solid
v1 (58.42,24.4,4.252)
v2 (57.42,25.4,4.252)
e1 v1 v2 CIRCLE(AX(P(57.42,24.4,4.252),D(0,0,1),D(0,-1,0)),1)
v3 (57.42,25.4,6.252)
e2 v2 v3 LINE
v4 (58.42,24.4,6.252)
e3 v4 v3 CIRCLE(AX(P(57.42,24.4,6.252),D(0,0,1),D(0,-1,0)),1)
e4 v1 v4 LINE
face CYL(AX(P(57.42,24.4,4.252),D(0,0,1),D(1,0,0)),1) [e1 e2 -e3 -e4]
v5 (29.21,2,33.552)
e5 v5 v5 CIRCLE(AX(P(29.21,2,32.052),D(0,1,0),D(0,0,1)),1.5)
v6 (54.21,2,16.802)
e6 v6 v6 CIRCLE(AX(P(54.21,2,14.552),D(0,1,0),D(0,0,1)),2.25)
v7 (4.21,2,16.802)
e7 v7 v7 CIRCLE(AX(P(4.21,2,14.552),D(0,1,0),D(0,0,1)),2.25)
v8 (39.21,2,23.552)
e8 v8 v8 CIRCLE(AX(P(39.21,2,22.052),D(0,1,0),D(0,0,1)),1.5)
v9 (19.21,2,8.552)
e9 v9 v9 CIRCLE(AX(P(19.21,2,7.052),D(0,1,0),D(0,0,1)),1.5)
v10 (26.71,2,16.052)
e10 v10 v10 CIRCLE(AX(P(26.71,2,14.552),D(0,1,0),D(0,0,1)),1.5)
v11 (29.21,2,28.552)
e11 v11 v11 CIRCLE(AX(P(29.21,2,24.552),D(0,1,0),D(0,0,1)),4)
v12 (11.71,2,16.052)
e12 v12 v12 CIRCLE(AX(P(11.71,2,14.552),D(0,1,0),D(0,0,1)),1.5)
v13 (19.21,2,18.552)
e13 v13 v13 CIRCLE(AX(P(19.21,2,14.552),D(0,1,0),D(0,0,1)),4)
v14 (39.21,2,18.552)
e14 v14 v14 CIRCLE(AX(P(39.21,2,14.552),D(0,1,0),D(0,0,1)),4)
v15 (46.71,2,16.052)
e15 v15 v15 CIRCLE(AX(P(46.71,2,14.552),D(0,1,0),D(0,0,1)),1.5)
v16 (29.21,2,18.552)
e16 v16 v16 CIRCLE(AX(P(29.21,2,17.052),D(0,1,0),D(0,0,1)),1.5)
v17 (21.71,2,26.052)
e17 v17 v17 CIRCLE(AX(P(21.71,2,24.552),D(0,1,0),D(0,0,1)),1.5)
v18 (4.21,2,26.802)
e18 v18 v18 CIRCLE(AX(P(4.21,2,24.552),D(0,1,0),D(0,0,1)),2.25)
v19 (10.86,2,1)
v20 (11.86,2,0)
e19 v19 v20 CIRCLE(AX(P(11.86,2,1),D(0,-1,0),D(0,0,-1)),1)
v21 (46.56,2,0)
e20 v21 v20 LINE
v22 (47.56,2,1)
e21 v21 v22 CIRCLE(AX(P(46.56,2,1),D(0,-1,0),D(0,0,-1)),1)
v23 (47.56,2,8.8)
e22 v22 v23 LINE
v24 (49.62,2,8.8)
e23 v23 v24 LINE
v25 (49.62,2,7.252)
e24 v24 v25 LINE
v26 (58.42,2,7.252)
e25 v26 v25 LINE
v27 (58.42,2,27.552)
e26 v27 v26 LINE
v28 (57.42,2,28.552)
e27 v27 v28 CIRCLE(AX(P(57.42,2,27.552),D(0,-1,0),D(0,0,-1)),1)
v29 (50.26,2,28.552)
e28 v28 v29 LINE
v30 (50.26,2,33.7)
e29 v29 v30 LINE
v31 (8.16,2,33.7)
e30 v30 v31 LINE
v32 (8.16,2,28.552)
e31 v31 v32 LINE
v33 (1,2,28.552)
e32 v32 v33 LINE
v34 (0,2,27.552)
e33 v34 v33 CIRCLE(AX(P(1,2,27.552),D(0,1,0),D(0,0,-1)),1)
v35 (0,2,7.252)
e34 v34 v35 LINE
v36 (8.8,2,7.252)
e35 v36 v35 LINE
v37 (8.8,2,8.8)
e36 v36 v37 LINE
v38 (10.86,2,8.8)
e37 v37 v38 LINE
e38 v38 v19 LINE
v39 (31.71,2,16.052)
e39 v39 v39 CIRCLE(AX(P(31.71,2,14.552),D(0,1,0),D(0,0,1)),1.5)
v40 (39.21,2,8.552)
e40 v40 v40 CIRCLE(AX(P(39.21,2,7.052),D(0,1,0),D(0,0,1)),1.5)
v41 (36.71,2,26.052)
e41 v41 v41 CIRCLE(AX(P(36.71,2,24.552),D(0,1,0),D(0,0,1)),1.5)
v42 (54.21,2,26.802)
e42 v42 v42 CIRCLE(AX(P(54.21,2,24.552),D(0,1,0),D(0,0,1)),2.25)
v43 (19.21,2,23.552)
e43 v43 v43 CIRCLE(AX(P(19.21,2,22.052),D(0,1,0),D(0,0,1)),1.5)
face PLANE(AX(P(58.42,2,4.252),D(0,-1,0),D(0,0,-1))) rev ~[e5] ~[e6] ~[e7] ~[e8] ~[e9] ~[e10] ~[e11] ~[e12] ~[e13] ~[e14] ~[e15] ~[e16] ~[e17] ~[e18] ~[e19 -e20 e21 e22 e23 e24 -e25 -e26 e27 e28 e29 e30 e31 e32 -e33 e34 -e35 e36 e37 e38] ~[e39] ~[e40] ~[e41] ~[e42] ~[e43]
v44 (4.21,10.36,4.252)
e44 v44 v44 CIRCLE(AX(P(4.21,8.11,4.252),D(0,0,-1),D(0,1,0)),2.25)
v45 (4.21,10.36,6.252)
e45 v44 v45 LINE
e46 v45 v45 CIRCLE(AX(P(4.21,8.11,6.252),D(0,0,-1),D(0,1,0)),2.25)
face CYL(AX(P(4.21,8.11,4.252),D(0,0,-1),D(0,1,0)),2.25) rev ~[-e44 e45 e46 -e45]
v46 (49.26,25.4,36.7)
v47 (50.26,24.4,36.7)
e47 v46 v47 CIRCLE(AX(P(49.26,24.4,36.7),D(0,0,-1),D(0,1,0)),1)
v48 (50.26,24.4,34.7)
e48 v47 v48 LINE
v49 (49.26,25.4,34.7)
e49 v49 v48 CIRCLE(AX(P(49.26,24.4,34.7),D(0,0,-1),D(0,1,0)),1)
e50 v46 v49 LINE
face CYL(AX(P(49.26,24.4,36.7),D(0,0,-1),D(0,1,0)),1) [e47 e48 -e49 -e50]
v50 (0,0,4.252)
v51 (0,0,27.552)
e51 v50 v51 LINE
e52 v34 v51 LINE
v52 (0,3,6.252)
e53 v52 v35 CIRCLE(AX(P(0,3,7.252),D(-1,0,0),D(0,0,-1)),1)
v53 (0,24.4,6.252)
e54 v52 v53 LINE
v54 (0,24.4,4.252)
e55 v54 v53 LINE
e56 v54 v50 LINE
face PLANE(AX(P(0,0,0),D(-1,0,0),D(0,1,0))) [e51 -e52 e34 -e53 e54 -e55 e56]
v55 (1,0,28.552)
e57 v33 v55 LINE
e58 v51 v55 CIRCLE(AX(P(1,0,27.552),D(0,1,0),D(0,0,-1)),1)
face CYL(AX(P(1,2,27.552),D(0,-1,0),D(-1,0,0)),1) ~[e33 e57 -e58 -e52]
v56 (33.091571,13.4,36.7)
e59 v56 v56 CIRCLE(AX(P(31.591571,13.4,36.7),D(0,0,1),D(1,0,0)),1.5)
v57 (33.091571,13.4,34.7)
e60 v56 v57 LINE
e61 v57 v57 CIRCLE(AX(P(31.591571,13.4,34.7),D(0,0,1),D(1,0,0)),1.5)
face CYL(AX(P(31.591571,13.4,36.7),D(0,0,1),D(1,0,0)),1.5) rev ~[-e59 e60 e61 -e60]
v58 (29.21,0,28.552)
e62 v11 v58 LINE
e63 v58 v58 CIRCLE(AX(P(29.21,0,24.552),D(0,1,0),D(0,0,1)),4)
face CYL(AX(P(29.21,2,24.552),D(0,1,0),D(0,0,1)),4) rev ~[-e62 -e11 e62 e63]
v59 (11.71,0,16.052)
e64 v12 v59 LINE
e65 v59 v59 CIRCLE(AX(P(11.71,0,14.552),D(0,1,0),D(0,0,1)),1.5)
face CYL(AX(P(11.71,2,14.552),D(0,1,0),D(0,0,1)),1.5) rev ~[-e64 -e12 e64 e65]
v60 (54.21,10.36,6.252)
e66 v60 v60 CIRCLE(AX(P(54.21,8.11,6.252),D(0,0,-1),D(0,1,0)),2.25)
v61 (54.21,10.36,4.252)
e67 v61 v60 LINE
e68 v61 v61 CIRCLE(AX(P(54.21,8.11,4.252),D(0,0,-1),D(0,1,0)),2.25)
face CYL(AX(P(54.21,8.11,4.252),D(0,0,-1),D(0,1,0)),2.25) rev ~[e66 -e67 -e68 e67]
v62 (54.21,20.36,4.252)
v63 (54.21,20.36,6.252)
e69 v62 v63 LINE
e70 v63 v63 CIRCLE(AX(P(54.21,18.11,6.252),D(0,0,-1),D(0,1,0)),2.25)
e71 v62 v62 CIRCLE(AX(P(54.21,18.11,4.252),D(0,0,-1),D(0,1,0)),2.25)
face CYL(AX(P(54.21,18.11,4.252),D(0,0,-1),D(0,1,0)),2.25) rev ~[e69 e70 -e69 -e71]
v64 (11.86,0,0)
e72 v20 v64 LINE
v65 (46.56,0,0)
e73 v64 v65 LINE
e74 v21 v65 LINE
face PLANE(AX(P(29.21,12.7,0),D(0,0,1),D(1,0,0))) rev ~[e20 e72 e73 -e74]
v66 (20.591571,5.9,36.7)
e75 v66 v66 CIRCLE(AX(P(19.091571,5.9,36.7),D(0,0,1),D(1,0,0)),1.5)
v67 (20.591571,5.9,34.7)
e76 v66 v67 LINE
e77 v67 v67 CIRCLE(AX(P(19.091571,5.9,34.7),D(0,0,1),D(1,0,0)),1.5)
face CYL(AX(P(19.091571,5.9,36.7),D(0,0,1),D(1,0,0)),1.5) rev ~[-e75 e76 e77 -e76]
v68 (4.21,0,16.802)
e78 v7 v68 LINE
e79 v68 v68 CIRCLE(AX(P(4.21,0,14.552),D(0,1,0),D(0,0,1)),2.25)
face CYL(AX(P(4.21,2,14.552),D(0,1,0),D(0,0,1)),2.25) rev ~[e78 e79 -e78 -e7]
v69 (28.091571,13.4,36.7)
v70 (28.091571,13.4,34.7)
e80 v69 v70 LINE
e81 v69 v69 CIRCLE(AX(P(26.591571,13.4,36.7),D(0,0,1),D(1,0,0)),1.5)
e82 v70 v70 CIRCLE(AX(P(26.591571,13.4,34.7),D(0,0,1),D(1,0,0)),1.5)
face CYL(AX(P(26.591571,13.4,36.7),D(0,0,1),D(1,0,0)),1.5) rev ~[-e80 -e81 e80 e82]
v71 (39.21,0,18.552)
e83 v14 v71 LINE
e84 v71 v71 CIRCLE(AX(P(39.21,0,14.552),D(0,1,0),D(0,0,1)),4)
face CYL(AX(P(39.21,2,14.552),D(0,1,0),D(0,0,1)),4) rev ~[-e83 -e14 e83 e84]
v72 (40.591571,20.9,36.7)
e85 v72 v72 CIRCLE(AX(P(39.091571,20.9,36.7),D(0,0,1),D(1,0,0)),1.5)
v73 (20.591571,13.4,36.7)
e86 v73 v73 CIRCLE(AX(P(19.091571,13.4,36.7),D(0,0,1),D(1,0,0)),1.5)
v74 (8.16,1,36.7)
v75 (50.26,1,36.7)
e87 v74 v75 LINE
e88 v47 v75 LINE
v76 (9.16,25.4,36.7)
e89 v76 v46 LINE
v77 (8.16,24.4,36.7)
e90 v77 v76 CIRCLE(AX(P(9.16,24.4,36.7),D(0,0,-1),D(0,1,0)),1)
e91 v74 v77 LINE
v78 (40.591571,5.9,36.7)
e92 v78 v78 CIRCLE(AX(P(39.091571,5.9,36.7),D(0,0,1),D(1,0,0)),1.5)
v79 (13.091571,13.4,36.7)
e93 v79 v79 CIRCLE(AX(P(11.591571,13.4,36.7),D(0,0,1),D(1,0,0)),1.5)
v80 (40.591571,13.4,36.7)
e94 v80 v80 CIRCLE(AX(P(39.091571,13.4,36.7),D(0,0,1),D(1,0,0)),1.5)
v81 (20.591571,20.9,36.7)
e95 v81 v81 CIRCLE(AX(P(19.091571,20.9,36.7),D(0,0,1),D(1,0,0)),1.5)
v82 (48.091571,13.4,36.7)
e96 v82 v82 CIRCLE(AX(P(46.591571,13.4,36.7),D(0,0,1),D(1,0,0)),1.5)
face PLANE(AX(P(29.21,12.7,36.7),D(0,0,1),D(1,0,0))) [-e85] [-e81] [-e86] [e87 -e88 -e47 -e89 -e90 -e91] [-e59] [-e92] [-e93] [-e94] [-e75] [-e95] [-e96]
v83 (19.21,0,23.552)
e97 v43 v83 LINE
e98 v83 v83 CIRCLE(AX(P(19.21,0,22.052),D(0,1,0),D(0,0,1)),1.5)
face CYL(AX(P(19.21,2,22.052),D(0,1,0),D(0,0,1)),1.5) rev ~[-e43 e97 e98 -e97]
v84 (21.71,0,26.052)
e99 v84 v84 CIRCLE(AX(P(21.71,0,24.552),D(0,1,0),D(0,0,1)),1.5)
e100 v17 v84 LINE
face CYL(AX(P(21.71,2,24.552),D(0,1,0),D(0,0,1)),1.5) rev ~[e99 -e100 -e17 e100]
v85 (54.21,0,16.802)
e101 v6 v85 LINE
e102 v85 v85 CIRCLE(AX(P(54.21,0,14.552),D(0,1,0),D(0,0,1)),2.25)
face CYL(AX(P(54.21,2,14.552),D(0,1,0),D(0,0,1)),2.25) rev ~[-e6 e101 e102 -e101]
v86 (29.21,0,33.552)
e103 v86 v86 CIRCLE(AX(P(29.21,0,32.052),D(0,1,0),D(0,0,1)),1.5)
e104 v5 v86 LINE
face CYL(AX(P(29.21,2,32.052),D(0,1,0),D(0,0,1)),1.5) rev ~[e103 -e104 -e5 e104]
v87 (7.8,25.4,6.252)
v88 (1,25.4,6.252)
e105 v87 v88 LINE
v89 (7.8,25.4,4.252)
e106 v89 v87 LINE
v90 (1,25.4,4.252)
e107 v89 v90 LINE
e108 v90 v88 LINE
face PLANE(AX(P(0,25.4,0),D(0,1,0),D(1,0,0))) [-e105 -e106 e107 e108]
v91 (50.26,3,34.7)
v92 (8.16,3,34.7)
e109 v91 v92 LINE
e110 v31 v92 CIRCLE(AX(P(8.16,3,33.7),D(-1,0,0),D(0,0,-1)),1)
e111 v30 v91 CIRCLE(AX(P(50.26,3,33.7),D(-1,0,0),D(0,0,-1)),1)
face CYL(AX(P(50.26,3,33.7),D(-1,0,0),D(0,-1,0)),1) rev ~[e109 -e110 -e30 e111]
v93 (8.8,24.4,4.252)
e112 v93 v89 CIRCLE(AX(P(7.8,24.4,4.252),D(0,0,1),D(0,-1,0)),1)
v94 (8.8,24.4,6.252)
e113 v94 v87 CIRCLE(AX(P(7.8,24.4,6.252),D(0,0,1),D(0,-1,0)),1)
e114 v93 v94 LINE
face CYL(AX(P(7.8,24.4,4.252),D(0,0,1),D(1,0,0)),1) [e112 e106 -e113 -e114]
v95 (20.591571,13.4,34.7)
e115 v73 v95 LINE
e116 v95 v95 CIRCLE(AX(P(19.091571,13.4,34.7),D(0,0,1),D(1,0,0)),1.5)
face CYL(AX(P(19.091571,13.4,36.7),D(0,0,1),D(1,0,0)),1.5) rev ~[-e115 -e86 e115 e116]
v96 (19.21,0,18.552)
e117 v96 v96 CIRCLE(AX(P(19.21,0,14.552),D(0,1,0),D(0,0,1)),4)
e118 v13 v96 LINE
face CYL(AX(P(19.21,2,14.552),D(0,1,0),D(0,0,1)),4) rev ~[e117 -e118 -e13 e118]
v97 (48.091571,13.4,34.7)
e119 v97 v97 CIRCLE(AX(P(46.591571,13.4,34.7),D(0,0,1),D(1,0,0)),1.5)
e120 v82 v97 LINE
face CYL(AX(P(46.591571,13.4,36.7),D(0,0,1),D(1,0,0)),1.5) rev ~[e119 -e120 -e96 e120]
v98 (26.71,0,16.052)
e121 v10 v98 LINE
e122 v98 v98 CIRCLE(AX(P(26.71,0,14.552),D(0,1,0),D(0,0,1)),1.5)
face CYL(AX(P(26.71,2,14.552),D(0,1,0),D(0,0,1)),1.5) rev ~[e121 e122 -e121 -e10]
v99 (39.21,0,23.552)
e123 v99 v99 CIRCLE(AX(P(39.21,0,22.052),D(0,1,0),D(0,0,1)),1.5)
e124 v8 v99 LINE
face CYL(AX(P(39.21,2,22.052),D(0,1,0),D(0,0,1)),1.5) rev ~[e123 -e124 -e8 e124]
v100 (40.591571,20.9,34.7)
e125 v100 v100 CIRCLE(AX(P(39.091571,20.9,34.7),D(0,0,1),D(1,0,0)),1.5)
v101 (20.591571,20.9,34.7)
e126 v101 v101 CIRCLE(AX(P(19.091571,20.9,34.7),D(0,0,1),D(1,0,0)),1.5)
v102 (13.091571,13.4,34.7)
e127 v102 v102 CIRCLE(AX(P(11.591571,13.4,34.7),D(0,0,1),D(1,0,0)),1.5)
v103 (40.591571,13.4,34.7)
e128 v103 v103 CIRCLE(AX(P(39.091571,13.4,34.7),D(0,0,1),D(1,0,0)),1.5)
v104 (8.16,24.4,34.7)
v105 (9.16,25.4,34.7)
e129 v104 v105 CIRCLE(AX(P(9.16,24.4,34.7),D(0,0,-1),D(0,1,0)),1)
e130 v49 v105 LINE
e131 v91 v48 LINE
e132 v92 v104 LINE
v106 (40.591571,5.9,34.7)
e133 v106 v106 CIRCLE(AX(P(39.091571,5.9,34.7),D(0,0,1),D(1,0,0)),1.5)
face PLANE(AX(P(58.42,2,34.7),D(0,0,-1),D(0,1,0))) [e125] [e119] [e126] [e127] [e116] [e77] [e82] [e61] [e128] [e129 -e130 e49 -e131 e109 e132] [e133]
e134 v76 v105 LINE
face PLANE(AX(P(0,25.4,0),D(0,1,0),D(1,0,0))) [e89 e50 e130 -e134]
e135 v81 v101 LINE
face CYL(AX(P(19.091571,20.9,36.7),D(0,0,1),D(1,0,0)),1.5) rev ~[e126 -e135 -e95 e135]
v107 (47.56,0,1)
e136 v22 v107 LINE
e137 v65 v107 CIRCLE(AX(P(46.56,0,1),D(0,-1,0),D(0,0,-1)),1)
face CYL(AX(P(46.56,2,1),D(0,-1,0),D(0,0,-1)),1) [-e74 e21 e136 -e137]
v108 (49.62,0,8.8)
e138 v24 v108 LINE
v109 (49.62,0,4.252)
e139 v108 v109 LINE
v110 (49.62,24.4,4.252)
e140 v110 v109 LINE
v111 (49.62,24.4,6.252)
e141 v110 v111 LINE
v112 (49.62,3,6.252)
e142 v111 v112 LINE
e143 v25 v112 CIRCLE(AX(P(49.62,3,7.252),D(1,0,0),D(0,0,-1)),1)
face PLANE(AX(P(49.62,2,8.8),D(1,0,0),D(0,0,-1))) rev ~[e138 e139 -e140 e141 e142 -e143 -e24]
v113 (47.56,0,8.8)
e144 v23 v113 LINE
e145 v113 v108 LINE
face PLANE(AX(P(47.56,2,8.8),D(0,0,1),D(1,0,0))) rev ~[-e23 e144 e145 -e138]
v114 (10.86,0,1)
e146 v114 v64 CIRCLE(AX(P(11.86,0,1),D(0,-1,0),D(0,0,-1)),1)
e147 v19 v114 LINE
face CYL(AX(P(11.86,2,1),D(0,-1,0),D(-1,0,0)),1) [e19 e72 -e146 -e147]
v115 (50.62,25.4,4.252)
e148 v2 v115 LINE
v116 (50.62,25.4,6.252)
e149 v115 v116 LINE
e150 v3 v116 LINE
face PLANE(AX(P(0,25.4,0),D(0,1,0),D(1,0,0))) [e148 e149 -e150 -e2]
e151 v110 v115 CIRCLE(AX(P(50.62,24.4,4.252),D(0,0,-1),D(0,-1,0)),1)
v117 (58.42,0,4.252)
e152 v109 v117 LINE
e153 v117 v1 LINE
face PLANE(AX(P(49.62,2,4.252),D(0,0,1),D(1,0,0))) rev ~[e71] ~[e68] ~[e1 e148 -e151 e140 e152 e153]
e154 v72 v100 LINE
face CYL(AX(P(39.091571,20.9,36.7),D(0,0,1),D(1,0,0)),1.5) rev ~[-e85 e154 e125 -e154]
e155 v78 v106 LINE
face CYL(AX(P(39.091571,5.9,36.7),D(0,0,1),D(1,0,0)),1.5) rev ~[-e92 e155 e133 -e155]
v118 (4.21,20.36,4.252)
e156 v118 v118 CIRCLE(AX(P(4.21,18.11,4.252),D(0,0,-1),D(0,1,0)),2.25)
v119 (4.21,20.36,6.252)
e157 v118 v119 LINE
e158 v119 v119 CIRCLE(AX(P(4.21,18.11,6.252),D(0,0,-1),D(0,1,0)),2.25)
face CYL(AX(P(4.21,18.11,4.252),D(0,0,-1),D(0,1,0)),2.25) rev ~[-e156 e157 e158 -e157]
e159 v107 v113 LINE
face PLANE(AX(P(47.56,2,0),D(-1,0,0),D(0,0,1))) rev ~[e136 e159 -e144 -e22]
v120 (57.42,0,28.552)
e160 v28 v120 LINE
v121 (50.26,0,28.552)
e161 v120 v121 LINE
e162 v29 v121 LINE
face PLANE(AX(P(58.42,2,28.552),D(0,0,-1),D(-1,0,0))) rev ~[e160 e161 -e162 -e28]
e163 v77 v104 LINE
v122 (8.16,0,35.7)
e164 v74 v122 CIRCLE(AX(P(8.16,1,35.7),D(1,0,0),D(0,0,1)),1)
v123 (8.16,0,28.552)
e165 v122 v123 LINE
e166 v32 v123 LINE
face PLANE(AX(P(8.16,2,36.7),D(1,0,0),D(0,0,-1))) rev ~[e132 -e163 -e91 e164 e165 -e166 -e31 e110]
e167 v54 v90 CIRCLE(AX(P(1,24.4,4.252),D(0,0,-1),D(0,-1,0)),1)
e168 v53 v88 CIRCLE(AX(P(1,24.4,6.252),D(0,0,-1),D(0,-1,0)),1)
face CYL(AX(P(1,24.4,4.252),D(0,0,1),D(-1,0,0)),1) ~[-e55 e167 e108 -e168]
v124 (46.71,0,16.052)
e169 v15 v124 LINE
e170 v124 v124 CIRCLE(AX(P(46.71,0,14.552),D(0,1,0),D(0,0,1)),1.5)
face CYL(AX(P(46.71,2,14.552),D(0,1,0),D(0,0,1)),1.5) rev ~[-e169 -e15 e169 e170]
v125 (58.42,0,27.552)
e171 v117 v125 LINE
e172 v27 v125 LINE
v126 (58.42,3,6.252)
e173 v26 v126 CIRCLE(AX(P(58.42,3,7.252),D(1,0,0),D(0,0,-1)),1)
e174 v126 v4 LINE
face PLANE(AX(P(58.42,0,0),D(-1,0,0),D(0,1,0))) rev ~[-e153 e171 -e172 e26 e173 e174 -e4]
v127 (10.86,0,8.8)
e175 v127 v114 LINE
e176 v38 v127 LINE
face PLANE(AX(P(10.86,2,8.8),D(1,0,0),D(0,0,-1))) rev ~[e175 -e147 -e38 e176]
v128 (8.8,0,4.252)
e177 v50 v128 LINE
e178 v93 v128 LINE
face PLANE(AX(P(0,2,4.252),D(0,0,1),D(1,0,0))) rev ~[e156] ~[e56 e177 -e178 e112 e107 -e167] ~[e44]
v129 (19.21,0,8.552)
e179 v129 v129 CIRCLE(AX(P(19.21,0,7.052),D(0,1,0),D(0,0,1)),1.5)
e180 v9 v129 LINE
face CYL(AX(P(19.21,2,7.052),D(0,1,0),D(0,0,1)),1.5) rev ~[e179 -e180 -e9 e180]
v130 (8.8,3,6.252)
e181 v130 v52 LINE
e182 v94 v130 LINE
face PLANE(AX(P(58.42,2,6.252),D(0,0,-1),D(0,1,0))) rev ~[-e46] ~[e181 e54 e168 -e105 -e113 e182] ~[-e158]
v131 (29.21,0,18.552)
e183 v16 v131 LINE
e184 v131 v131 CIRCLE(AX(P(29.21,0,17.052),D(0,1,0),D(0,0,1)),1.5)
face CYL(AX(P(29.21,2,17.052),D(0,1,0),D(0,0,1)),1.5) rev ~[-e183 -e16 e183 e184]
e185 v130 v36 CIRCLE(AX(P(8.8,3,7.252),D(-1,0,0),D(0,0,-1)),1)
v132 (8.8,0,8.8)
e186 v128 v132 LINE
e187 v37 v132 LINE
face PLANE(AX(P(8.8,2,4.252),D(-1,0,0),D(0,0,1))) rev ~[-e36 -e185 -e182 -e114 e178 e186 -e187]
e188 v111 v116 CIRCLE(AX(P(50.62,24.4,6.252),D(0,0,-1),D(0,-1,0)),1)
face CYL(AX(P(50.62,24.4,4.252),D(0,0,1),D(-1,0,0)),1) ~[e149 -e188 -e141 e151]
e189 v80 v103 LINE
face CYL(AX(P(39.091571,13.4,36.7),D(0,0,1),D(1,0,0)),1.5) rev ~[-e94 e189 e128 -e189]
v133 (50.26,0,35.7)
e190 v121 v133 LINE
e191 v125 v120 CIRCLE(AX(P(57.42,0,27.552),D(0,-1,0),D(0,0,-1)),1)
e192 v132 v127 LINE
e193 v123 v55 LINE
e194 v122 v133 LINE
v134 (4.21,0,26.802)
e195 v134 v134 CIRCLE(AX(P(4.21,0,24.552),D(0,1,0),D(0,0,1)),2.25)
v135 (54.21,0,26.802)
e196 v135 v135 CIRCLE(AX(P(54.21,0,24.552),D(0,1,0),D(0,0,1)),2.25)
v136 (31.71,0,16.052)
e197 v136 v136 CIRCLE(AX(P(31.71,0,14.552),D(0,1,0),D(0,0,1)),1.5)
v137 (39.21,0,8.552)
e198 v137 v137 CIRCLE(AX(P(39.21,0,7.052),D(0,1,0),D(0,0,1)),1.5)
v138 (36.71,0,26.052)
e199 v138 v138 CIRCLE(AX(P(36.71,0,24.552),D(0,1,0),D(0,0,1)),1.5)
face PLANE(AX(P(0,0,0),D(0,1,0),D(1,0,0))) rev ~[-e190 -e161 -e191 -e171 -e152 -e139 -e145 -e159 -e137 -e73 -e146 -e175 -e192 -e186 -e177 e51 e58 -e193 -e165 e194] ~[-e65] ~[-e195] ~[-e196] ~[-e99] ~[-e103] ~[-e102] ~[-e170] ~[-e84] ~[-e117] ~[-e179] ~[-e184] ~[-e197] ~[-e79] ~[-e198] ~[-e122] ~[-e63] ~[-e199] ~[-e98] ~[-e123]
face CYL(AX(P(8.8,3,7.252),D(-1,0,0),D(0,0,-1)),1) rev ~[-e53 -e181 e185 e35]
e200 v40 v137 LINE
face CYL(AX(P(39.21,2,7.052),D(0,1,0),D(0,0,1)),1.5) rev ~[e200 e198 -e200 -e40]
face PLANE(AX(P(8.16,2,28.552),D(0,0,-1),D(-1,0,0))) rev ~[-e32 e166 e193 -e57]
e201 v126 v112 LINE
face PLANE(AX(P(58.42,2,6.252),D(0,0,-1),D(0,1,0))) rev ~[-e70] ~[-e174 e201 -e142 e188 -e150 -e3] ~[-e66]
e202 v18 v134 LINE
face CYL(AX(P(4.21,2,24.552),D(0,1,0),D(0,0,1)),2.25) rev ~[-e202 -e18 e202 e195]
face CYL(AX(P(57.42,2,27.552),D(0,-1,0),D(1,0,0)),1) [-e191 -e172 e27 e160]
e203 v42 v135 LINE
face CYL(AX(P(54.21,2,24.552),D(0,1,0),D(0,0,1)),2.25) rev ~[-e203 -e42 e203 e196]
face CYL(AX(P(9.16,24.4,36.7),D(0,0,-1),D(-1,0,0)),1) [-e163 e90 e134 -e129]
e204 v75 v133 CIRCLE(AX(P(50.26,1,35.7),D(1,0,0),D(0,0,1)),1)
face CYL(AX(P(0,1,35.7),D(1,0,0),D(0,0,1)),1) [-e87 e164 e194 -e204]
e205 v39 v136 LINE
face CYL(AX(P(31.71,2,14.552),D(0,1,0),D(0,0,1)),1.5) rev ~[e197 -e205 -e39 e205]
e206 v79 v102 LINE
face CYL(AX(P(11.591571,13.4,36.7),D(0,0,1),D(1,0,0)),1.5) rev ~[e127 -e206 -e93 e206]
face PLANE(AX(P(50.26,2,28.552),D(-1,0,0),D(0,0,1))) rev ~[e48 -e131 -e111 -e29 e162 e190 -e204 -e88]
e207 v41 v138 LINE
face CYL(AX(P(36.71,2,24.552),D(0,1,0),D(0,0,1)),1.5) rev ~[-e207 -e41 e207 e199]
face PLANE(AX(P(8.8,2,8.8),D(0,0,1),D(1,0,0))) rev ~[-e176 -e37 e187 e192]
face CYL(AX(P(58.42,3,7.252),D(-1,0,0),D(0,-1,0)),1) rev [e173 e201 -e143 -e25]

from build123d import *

# Parameters (mm, degrees)
SKETCH2_W           = 58.42
SKETCH2_H           = 25.4
BOSS_EXTRUDE1_DEPTH = 36.7
CUT_EXTRUDE1_REACH  = 75.518
SKETCH3_W           = 4.252
SKETCH3_H           = 23.4
SKETCH3_W_2         = 28.448
SKETCH4_W           = 8.16
SKETCH4_H           = 23.4
CUT_EXTRUDE3_DEPTH  = 2
FILLET1_R           = 1
CUT_EXTRUDE5_REACH  = 73.491
SKETCH5_W           = 40.82
SKETCH5_H           = 23.4
SKETCH6_W           = 2.06
SKETCH6_H           = 2.548
CUT_EXTRUDE6_DEPTH  = 2
CUT_EXTRUDE7_DEPTH  = 2
FILLET2_R           = 1
SKETCH8_R           = 1.5
CUT_EXTRUDE8_DEPTH  = 2
SKETCH9_R           = 2.25
SKETCH9_R_2         = 4
SKETCH9_R_3         = 1.5
CUT_EXTRUDE9_DEPTH  = 2
SKETCH10_R          = 2.25
CUT_EXTRUDE10_DEPTH = 2
FILLET3_R           = 1


with BuildPart() as part:
    # Sketch2 → Boss-Extrude1 (new body)
    with BuildSketch(Plane.XY):
        with Locations((29.21, 12.7)):
            Rectangle(SKETCH2_W, SKETCH2_H)
    extrude(amount=BOSS_EXTRUDE1_DEPTH)

    # Sketch3 → Cut-Extrude1 (cut, up to next)
    with BuildSketch(Plane(origin=(58.42, 0, 0), x_dir=(0, 0, -1), z_dir=(1, 0, 0)), mode=Mode.PRIVATE) as cut_extrude1_sk1:
        with Locations((-2.126, 13.7)):
            Rectangle(SKETCH3_W, SKETCH3_H)
    cut_extrude1_tool1 = extrude(cut_extrude1_sk1.sketch, amount=-CUT_EXTRUDE1_REACH, mode=Mode.PRIVATE) & part.part
    # Sketch3 → Cut-Extrude1 (cut, up to next)
    with BuildSketch(Plane(origin=(58.42, 0, 0), x_dir=(0, 0, -1), z_dir=(1, 0, 0)), mode=Mode.PRIVATE) as cut_extrude1_sk2:
        with Locations((-20.476, 13.7)):
            Rectangle(SKETCH3_W_2, SKETCH3_H)
    cut_extrude1_tool2 = extrude(cut_extrude1_sk2.sketch, amount=-CUT_EXTRUDE1_REACH, mode=Mode.PRIVATE) & part.part
    add(cut_extrude1_tool1.solids().sort_by_distance((58.42, 13.7, 2.126))[0], mode=Mode.SUBTRACT)
    add(cut_extrude1_tool2.solids().sort_by_distance((58.42, 13.7, 20.476))[0], mode=Mode.SUBTRACT)

    # Sketch4 → Cut-Extrude3 (cut)
    with BuildSketch(Plane.XY.offset(36.7)):
        with Locations((4.08, 13.7)):
            Rectangle(SKETCH4_W, SKETCH4_H)
        with Locations((54.34, 13.7)):
            Rectangle(SKETCH4_W, SKETCH4_H)
    extrude(amount=-CUT_EXTRUDE3_DEPTH, mode=Mode.SUBTRACT)

    # Fillet1
    fillet1_edges = [part.edges().sort_by_distance(p)[0] for p in [
        (29.21, 2, 34.7),
        (8.16, 25.4, 35.7),
        (50.26, 25.4, 35.7),
        (29.21, 0, 36.7),
    ]]
    fillet(fillet1_edges, radius=FILLET1_R)

    # Sketch5 → Cut-Extrude5 (cut, up to next)
    with BuildSketch(Plane(origin=(0, 0, 4.252), x_dir=(-1, 0, 0), z_dir=(0, 0, -1)), mode=Mode.PRIVATE) as cut_extrude5_sk1:
        with Locations((-29.21, 13.7)):
            Rectangle(SKETCH5_W, SKETCH5_H)
    cut_extrude5_tool1 = extrude(cut_extrude5_sk1.sketch, amount=-CUT_EXTRUDE5_REACH, mode=Mode.PRIVATE) & part.part
    add(cut_extrude5_tool1.solids().sort_by_distance((29.21, 13.7, 4.252))[0], mode=Mode.SUBTRACT)

    # Sketch6 → Cut-Extrude6 (cut)
    with BuildSketch(Plane(origin=(0, 2, 0), x_dir=(1, 0, 0), z_dir=(0, 1, 0))):
        Polygon((10.86, -6.252), (10.86, 0), (0, 0), (0, -4.252), (8.8, -4.252), (8.8, -6.252), align=None)
        Polygon((58.42, 0), (47.56, 0), (47.56, -6.252), (49.62, -6.252), (49.62, -4.252), (58.42, -4.252), align=None)
        with Locations((48.59, -7.526)):
            Rectangle(SKETCH6_W, SKETCH6_H)
        with Locations((9.83, -7.526)):
            Rectangle(SKETCH6_W, SKETCH6_H)
    extrude(amount=-CUT_EXTRUDE6_DEPTH, mode=Mode.SUBTRACT)

    # Sketch7 → Cut-Extrude7 (cut)
    with BuildSketch(Plane(origin=(0, 2, 0), x_dir=(1, 0, 0), z_dir=(0, 1, 0))):
        Polygon((0, -36.7), (8.16, -36.7), (8.16, -33.7), (8.16, -28.552), (0, -28.552), align=None)
        Polygon((58.42, -36.7), (58.42, -28.552), (50.26, -28.552), (50.26, -33.7), (50.26, -36.7), align=None)
    extrude(amount=-CUT_EXTRUDE7_DEPTH, mode=Mode.SUBTRACT)

    # Fillet2
    fillet2_edges = [part.edges().sort_by_distance(p)[0] for p in [
        (49.62, 25.4, 5.252),
        (8.8, 25.4, 5.252),
        (47.56, 1, 0),
        (10.86, 1, 0),
        (0, 1, 28.552),
        (58.42, 1, 28.552),
        (58.42, 25.4, 5.252),
        (0, 25.4, 5.252),
    ]]
    fillet(fillet2_edges, radius=FILLET2_R)

    # Sketch8 → Cut-Extrude8 (cut)
    with BuildSketch(Plane.XY.offset(36.7)):
        with Locations((19.091571086, 13.4)):
            Circle(SKETCH8_R)
        with Locations((19.091571086, 20.9)):
            Circle(SKETCH8_R)
        with Locations((26.591571086, 13.4)):
            Circle(SKETCH8_R)
        with Locations((19.091571086, 5.9)):
            Circle(SKETCH8_R)
        with Locations((11.591571086, 13.4)):
            Circle(SKETCH8_R)
        with Locations((39.091571086, 13.4)):
            Circle(SKETCH8_R)
        with Locations((39.091571086, 5.9)):
            Circle(SKETCH8_R)
        with Locations((31.591571086, 13.4)):
            Circle(SKETCH8_R)
        with Locations((39.091571086, 20.9)):
            Circle(SKETCH8_R)
        with Locations((46.591571086, 13.4)):
            Circle(SKETCH8_R)
    extrude(amount=-CUT_EXTRUDE8_DEPTH, mode=Mode.SUBTRACT)

    # Sketch9 → Cut-Extrude9 (cut)
    with BuildSketch(Plane(origin=(0, 2, 0), x_dir=(1, 0, 0), z_dir=(0, 1, 0))):
        with Locations(Location((4.21, -14.552, 0), (0, 0, 270))):
            Circle(SKETCH9_R)
        with Locations(Location((4.21, -24.552, 0), (0, 0, 270))):
            Circle(SKETCH9_R)
        with Locations(Location((54.21, -14.552, 0), (0, 0, 270))):
            Circle(SKETCH9_R)
        with Locations(Location((54.21, -24.552, 0), (0, 0, 270))):
            Circle(SKETCH9_R)
        with Locations(Location((29.21, -24.552, 0), (0, 0, 270))):
            Circle(SKETCH9_R_2)
        with Locations(Location((29.21, -17.052, 0), (0, 0, 270))):
            Circle(SKETCH9_R_3)
        with Locations(Location((36.71, -24.552, 0), (0, 0, 270))):
            Circle(SKETCH9_R_3)
        with Locations(Location((29.21, -32.052, 0), (0, 0, 270))):
            Circle(SKETCH9_R_3)
        with Locations(Location((21.71, -24.552, 0), (0, 0, 270))):
            Circle(SKETCH9_R_3)
        with Locations(Location((39.21, -14.552, 0), (0, 0, 270))):
            Circle(SKETCH9_R_2)
        with Locations(Location((19.21, -14.552, 0), (0, 0, 270))):
            Circle(SKETCH9_R_2)
        with Locations(Location((31.71, -14.552, 0), (0, 0, 270))):
            Circle(SKETCH9_R_3)
        with Locations(Location((39.21, -7.052, 0), (0, 0, 270))):
            Circle(SKETCH9_R_3)
        with Locations(Location((46.71, -14.552, 0), (0, 0, 270))):
            Circle(SKETCH9_R_3)
        with Locations(Location((39.21, -22.052, 0), (0, 0, 270))):
            Circle(SKETCH9_R_3)
        with Locations(Location((26.71, -14.552, 0), (0, 0, 270))):
            Circle(SKETCH9_R_3)
        with Locations(Location((19.21, -22.052, 0), (0, 0, 270))):
            Circle(SKETCH9_R_3)
        with Locations(Location((11.71, -14.552, 0), (0, 0, 270))):
            Circle(SKETCH9_R_3)
        with Locations(Location((19.21, -7.052, 0), (0, 0, 270))):
            Circle(SKETCH9_R_3)
    extrude(amount=-CUT_EXTRUDE9_DEPTH, mode=Mode.SUBTRACT)

    # Sketch10 → Cut-Extrude10 (cut)
    with BuildSketch(Plane(origin=(0, 0, 4.252), x_dir=(-1, 0, 0), z_dir=(0, 0, -1))):
        with Locations(Location((-4.21, 18.11, 0), (0, 0, 90))):
            Circle(SKETCH10_R)
        with Locations(Location((-54.21, 18.11, 0), (0, 0, 90))):
            Circle(SKETCH10_R)
        with Locations(Location((-54.21, 8.11, 0), (0, 0, 90))):
            Circle(SKETCH10_R)
        with Locations(Location((-4.21, 8.11, 0), (0, 0, 90))):
            Circle(SKETCH10_R)
    extrude(amount=-CUT_EXTRUDE10_DEPTH, mode=Mode.SUBTRACT)

    # Fillet3
    fillet3_edges = [part.edges().sort_by_distance(p)[0] for p in [
        (54.02, 2, 6.252),
        (4.4, 2, 6.252),
    ]]
    fillet(fillet3_edges, radius=FILLET3_R)


solid = part.part
